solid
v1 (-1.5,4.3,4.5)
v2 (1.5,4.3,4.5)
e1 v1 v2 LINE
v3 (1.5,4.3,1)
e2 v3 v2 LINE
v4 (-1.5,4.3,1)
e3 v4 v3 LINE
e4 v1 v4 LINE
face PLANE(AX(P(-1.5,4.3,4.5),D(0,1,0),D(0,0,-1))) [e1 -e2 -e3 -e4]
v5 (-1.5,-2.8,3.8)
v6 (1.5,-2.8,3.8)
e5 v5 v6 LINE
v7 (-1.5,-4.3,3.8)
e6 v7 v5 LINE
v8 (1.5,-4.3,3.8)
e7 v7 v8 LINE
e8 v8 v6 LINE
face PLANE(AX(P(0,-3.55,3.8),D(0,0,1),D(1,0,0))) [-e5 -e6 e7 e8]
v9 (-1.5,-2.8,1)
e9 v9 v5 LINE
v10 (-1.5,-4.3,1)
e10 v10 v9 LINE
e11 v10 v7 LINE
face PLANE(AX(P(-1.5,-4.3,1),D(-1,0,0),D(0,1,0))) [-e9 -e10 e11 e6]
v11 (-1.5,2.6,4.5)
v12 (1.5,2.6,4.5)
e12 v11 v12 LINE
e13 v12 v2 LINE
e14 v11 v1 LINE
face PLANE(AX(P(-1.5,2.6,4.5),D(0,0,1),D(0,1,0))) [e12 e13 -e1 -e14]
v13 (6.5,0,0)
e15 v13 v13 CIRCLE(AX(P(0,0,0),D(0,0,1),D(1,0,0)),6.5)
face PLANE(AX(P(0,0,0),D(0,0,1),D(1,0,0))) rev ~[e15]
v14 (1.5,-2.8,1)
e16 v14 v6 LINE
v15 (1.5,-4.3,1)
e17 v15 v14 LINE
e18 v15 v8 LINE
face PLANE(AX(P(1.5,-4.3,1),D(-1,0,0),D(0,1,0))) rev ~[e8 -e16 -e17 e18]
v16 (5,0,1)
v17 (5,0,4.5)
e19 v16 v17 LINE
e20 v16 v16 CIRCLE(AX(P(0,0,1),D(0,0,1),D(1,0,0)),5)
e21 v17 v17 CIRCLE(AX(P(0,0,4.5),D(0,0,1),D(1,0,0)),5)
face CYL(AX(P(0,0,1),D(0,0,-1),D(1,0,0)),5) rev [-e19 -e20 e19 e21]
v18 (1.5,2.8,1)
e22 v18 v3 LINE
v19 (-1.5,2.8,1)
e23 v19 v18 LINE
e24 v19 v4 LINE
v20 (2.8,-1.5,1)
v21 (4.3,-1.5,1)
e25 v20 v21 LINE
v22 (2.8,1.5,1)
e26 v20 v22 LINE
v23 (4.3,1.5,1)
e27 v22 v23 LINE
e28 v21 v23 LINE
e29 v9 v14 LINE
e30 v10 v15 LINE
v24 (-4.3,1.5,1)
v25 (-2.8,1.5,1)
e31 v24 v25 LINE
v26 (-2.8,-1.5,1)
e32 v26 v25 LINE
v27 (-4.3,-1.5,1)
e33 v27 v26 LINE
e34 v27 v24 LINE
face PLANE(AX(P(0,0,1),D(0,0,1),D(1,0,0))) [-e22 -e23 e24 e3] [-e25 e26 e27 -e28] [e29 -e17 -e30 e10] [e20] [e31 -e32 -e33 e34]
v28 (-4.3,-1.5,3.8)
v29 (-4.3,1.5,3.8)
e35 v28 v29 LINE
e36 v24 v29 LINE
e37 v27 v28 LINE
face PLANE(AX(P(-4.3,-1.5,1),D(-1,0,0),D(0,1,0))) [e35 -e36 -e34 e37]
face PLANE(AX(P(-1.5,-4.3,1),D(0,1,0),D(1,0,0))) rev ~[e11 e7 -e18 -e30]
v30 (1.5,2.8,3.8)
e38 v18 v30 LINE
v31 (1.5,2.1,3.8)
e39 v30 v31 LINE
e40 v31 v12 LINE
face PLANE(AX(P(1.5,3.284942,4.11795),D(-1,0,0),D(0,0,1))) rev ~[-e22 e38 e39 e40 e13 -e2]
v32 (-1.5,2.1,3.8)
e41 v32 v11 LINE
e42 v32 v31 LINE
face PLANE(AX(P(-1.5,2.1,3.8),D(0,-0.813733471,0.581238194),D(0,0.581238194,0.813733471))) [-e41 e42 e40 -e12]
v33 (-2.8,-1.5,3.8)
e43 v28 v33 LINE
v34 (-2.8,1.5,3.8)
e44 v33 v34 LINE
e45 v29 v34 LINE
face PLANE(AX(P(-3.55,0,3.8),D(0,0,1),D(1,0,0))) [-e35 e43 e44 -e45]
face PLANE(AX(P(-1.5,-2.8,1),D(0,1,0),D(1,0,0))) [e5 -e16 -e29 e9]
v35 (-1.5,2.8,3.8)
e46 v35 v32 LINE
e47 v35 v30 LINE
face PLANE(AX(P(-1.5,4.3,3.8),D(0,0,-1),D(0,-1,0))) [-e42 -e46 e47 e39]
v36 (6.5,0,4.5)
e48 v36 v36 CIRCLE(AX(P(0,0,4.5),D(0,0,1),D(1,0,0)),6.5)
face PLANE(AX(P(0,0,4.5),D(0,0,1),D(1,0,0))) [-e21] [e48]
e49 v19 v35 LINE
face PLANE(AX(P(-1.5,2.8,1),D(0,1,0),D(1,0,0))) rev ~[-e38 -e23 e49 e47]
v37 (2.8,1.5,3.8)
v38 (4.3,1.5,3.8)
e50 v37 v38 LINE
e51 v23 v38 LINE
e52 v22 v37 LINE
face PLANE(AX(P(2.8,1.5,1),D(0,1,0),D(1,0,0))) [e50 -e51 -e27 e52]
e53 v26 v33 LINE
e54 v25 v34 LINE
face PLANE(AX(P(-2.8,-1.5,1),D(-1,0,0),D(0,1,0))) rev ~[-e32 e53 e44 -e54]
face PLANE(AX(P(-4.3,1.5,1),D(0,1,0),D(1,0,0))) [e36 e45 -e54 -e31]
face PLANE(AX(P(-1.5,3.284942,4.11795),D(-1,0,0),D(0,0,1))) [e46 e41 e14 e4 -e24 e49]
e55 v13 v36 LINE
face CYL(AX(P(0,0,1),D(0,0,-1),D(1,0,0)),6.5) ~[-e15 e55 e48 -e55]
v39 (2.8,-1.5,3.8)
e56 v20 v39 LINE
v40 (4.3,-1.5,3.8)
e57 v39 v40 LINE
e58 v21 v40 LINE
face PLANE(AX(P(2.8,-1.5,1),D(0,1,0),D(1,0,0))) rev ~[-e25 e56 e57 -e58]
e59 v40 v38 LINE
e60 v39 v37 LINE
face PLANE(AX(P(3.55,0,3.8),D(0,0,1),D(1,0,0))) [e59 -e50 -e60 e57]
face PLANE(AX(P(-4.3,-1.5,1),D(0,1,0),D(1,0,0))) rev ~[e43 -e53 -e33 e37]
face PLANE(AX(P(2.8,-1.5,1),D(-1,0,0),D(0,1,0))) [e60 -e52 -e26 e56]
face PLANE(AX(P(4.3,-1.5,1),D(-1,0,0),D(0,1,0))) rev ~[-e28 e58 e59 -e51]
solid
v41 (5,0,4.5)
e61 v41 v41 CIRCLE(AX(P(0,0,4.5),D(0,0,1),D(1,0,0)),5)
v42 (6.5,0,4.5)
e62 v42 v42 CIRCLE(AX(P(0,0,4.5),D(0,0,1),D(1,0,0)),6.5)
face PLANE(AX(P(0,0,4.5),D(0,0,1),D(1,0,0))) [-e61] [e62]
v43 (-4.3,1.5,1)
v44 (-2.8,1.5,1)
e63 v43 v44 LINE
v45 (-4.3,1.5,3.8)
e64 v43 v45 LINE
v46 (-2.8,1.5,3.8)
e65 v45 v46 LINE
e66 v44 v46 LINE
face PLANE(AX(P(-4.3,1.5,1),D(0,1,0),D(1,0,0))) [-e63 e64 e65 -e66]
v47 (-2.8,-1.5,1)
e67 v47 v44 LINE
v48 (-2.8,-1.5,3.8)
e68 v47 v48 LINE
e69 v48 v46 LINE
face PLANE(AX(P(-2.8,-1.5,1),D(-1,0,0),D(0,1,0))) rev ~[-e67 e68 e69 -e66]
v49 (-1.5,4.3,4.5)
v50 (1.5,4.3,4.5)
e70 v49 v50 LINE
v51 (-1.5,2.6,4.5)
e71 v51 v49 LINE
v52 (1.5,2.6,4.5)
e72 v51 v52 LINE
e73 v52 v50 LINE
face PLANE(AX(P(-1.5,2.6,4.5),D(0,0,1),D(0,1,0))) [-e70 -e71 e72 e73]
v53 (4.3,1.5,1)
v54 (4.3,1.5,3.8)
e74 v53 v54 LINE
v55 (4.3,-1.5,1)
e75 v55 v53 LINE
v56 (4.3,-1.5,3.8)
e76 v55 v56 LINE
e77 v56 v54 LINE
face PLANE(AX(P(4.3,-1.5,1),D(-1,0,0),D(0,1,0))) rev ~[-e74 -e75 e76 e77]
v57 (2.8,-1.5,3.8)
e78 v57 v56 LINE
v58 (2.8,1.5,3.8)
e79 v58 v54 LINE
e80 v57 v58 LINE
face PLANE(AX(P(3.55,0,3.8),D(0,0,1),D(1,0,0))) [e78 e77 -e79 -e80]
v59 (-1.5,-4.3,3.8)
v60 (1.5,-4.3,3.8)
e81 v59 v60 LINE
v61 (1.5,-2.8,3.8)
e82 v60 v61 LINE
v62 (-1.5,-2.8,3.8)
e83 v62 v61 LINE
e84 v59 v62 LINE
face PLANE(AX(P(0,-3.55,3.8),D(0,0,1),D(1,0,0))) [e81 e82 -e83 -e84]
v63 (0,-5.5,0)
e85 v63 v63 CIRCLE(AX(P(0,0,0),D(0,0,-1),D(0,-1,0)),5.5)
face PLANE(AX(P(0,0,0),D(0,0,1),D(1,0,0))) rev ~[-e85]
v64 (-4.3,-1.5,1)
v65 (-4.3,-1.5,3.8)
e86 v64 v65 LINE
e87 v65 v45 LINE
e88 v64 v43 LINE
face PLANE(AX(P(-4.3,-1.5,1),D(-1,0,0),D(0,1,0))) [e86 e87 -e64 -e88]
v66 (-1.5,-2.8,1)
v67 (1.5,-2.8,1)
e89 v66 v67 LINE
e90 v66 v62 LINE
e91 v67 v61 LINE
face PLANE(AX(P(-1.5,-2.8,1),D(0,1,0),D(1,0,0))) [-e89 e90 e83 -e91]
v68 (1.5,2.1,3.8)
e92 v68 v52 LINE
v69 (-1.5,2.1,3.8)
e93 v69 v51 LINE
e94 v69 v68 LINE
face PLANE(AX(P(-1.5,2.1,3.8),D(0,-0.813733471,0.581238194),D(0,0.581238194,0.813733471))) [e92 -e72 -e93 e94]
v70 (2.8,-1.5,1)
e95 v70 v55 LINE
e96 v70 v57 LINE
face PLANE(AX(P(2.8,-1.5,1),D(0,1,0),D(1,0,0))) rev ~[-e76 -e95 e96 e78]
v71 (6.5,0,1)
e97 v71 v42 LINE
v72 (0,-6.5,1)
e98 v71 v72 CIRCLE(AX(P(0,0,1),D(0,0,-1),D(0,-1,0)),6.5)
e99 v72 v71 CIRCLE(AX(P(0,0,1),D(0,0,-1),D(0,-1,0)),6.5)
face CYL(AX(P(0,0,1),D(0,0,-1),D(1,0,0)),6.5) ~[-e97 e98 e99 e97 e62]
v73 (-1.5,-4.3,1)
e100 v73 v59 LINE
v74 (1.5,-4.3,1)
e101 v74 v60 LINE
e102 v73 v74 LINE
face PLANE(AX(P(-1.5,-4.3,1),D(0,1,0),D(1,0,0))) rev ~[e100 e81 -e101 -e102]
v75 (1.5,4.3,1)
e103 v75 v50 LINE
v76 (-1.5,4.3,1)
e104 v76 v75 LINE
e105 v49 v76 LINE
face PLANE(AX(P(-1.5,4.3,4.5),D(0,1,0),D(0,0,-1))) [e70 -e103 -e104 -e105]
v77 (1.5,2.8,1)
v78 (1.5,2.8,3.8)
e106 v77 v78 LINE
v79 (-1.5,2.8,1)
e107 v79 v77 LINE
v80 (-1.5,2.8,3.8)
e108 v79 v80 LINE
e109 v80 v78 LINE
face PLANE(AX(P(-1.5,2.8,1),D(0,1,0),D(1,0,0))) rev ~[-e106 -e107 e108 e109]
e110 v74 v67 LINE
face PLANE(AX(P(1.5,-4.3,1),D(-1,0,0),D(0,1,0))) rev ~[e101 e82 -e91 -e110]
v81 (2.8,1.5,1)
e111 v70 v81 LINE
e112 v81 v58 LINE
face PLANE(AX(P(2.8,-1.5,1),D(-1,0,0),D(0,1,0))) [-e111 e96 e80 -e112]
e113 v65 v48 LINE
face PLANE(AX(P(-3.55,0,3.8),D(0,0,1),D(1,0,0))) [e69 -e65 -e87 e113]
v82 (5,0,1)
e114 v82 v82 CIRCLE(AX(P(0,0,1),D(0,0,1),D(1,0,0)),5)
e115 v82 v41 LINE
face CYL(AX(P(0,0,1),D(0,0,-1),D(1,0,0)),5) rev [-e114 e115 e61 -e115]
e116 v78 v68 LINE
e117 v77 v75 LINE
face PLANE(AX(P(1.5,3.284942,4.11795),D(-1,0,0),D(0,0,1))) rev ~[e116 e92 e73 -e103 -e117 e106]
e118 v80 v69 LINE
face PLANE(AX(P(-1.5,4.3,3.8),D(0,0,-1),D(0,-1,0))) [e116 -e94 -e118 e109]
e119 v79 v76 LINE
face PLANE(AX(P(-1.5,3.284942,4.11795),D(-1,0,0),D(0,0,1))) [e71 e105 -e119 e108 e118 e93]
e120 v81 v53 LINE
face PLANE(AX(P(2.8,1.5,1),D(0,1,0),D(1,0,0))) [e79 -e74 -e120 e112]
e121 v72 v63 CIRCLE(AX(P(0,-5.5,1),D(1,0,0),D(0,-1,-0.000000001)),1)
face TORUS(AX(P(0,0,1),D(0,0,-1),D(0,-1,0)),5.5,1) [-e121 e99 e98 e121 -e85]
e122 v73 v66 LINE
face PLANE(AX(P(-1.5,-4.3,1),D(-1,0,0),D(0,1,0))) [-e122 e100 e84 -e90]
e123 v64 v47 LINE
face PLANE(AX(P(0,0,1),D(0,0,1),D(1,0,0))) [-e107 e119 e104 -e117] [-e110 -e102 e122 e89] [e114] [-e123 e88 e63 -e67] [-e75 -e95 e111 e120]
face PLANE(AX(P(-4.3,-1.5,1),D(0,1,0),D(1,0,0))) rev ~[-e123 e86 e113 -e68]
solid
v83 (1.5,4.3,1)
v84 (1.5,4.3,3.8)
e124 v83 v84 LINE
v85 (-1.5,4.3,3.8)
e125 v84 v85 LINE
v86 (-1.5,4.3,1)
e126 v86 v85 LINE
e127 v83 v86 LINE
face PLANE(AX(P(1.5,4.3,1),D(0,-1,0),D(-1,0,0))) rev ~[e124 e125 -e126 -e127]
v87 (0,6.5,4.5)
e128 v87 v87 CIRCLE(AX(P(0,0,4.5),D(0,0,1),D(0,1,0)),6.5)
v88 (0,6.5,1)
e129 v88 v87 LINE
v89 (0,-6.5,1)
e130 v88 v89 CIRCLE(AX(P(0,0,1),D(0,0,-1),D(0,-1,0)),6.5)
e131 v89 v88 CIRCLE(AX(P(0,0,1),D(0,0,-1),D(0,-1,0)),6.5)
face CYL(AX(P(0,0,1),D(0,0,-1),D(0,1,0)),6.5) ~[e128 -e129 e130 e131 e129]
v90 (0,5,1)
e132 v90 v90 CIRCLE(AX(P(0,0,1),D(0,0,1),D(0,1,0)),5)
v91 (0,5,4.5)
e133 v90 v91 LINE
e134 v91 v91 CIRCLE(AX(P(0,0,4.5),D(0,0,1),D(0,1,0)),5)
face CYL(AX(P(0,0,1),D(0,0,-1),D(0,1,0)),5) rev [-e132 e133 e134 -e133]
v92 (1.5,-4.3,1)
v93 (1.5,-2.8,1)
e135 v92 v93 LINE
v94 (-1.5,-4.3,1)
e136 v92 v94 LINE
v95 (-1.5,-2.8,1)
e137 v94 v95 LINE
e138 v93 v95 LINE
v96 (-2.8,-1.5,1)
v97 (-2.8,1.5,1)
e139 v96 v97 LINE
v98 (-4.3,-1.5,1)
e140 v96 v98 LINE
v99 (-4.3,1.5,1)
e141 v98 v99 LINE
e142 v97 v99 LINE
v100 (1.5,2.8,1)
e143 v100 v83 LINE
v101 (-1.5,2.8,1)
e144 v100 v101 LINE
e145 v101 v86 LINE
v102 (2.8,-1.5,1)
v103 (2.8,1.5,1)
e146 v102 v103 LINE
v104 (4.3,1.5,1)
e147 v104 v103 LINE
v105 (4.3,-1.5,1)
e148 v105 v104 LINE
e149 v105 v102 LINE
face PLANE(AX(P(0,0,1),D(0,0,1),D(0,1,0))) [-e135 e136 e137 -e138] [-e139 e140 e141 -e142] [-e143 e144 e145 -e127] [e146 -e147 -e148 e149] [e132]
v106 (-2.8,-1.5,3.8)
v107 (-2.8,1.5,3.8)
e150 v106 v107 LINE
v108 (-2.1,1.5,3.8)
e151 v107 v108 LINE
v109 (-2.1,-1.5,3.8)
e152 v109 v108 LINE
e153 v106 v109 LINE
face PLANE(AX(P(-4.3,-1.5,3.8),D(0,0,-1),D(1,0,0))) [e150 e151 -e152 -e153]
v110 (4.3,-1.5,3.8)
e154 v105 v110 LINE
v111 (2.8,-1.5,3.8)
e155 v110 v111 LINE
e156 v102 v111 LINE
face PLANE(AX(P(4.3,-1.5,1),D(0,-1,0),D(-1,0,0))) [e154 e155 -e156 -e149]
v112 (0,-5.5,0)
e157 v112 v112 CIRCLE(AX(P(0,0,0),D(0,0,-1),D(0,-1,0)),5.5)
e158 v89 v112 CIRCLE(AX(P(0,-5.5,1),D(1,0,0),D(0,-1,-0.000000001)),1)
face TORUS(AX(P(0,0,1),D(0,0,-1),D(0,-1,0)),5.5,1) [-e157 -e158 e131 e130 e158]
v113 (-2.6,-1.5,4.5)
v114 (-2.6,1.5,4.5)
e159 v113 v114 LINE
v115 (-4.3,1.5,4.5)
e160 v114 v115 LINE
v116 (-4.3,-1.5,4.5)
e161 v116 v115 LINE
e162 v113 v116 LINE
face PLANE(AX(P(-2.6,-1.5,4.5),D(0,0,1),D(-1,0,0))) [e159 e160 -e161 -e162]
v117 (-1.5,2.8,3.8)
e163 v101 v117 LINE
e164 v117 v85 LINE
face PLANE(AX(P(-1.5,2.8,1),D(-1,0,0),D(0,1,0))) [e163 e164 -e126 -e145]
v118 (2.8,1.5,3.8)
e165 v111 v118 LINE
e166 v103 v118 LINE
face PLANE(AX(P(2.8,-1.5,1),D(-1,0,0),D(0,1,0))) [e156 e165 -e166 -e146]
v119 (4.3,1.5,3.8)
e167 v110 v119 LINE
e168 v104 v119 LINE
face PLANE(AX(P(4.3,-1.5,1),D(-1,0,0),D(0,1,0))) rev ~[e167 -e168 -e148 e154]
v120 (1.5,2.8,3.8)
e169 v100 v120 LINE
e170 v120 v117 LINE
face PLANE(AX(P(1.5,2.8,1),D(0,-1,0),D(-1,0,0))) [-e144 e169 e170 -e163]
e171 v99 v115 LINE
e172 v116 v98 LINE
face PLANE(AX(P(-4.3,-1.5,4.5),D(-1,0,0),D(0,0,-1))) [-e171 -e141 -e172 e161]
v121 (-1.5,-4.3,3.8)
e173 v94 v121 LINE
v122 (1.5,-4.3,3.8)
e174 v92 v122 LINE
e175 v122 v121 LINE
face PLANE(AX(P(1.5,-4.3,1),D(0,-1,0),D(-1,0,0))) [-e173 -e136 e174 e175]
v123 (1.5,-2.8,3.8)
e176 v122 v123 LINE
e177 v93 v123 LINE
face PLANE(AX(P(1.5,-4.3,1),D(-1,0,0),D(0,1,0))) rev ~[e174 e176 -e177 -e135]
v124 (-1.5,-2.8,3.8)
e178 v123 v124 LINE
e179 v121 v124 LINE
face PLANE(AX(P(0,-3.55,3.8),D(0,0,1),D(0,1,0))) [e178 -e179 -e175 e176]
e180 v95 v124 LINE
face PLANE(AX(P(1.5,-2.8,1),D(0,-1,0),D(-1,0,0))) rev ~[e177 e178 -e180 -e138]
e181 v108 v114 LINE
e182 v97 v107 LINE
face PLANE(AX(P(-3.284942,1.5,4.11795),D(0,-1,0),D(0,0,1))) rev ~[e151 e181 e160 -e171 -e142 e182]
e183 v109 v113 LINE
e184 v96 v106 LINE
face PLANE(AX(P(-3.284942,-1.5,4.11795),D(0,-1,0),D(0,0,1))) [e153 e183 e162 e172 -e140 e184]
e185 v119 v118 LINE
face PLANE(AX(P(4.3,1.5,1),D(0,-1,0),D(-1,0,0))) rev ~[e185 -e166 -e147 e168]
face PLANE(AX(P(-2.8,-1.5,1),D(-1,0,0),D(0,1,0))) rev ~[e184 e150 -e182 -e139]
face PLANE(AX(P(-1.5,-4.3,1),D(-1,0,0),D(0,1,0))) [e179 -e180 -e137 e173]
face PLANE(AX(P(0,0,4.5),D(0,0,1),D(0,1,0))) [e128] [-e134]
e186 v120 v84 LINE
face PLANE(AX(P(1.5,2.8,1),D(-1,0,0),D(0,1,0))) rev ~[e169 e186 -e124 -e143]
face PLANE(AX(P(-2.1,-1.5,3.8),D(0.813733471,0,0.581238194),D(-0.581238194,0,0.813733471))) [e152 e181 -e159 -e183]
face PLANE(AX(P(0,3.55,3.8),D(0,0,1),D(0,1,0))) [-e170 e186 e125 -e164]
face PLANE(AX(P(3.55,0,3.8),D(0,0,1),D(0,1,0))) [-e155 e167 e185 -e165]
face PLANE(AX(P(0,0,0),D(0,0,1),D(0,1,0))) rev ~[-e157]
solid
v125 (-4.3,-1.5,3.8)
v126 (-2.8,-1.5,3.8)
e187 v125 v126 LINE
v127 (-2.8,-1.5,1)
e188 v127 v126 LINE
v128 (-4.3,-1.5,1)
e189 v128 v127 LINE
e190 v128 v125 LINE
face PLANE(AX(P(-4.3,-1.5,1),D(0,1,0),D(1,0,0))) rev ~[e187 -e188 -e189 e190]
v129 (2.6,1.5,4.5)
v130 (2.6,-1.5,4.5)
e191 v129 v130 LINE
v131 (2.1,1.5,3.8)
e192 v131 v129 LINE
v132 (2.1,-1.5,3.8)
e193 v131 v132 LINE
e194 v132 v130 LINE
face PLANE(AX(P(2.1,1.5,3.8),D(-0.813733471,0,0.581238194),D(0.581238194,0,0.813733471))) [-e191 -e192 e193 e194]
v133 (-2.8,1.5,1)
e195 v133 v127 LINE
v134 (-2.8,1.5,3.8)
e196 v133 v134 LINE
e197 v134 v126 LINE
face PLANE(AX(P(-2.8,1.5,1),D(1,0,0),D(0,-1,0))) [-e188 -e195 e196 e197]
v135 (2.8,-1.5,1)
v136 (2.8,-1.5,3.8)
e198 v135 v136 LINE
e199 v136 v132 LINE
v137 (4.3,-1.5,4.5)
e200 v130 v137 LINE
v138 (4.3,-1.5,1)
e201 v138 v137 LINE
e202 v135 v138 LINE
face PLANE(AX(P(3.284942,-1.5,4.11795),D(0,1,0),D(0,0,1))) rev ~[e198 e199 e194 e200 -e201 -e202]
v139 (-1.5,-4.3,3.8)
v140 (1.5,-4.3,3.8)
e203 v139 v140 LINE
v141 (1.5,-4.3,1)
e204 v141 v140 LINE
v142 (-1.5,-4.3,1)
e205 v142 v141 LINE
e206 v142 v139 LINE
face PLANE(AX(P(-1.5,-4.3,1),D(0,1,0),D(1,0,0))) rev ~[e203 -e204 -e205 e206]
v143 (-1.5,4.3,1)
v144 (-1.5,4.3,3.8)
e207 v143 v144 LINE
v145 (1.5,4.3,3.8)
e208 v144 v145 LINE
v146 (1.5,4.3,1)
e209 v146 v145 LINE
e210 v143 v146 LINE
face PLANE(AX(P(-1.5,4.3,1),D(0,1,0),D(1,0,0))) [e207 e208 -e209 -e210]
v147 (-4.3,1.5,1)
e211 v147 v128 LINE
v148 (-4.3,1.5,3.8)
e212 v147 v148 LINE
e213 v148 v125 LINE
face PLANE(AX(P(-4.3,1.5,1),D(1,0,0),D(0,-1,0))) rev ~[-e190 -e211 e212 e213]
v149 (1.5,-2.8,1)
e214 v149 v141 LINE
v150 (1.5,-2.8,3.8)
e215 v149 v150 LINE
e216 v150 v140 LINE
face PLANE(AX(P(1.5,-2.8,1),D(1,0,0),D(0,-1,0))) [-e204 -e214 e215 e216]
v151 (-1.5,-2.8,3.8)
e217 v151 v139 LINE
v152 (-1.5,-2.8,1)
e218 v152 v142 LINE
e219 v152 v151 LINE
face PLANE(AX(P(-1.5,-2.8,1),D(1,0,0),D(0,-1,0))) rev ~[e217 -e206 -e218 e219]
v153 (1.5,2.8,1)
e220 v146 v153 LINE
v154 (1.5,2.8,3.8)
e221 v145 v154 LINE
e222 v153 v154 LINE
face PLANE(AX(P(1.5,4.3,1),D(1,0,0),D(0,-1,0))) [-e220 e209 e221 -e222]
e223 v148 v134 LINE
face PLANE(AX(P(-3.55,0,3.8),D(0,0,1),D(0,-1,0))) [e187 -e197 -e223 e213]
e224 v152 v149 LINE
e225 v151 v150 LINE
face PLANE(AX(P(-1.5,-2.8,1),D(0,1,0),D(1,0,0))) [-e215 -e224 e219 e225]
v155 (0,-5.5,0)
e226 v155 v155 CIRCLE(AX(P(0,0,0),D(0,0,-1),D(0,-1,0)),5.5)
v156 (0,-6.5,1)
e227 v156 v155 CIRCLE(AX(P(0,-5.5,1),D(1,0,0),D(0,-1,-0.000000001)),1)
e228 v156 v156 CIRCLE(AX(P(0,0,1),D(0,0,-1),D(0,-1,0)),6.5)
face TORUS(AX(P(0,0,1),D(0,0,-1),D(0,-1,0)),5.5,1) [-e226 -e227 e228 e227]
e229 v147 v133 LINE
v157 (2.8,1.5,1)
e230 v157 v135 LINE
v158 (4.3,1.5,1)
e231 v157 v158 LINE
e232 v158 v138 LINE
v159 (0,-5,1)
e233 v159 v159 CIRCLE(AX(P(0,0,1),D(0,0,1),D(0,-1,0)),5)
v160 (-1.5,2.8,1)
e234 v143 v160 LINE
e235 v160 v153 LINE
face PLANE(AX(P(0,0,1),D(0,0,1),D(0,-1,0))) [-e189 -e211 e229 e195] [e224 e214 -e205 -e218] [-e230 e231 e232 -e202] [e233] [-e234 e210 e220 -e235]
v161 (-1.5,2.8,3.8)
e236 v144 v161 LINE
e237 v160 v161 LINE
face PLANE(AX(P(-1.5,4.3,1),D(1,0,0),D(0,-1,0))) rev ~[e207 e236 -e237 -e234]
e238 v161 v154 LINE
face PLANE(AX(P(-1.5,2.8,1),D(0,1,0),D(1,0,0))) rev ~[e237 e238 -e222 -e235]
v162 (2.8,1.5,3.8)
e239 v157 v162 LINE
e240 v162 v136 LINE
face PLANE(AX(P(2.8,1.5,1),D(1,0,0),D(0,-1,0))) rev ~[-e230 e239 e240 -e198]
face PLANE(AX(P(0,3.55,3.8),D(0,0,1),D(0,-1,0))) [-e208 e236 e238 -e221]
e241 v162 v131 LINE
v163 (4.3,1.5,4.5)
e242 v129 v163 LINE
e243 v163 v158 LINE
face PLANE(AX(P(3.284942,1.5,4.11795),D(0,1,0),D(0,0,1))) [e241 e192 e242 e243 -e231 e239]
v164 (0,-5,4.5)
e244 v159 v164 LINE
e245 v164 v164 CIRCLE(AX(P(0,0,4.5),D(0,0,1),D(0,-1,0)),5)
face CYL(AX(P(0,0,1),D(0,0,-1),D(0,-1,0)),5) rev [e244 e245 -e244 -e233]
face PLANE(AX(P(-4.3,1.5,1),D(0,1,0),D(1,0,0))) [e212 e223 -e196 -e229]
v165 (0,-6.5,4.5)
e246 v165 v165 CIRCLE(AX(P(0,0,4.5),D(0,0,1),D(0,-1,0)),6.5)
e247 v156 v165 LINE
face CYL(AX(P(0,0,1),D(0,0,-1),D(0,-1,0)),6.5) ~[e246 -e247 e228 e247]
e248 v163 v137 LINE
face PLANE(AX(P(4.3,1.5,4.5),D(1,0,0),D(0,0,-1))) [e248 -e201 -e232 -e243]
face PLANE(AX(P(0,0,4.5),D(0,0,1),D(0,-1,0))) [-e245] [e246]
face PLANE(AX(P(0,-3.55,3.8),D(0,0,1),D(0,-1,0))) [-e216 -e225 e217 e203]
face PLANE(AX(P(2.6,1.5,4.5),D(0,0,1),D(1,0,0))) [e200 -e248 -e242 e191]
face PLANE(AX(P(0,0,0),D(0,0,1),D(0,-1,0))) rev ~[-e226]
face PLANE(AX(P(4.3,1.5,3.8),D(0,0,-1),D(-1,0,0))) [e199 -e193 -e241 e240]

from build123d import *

# Parameters (mm, degrees)
ESQUISSE1_R                   = 6.5
BOSS_EXTRU_1_DEPTH            = 1
ESQUISSE2_R                   = 6.5
ESQUISSE2_R_2                 = 5
BOSS_EXTRU_2_DEPTH            = 3.5
ESQUISSE3_W                   = 1.5
ESQUISSE3_H                   = 3
ESQUISSE3_W_2                 = 3
ESQUISSE3_H_2                 = 1.5
BOSS_EXTRU_3_DEPTH            = 2.8
BOSS_EXTRU_4_DEPTH            = 3
R_P_TITION_CIRCULAIRE10_COUNT = 4


with BuildPart() as part:
    # Esquisse1 → Boss.-Extru.1 (new body)
    with BuildSketch(Plane.XY):
        Circle(ESQUISSE1_R)
    extrude(amount=BOSS_EXTRU_1_DEPTH)

    # Esquisse2 → Boss.-Extru.2 (add)
    with BuildSketch(Plane.XY.offset(1)):
        Circle(ESQUISSE2_R)
        Circle(ESQUISSE2_R_2, mode=Mode.SUBTRACT)
    extrude(amount=BOSS_EXTRU_2_DEPTH)

    # Esquisse3 → Boss.-Extru.3 (add)
    with BuildSketch(Plane.XY.offset(1)):
        with Locations((3.55, 0)):
            Rectangle(ESQUISSE3_W, ESQUISSE3_H)
        with Locations((0, 3.55)):
            Rectangle(ESQUISSE3_W_2, ESQUISSE3_H_2)
        with Locations((0, -3.55)):
            Rectangle(ESQUISSE3_W_2, ESQUISSE3_H_2)
        with Locations((-3.55, 0)):
            Rectangle(ESQUISSE3_W, ESQUISSE3_H)
    extrude(amount=BOSS_EXTRU_3_DEPTH)

    # Esquisse4 → Boss.-Extru.4 (add)
    with BuildSketch(Plane.ZY.offset(1.5)):
        Polygon((3.8, 4.3), (3.8, 2.1), (4.5, 2.6), (4.5, 4.3), align=None)
    extrude(amount=-BOSS_EXTRU_4_DEPTH)


with BuildPart() as r_p_tition_circulaire10_1:
    # Répétition circulaire10: pattern copy
    add(part.part.rotate(Axis((0, 0, 0), (0, 0, 1)), 1 * 360 / R_P_TITION_CIRCULAIRE10_COUNT))


with BuildPart() as r_p_tition_circulaire10_2:
    # Répétition circulaire10: pattern copy
    add(part.part.rotate(Axis((0, 0, 0), (0, 0, 1)), 2 * 360 / R_P_TITION_CIRCULAIRE10_COUNT))


with BuildPart() as r_p_tition_circulaire10_3:
    # Répétition circulaire10: pattern copy
    add(part.part.rotate(Axis((0, 0, 0), (0, 0, 1)), 3 * 360 / R_P_TITION_CIRCULAIRE10_COUNT))


with BuildPart() as enl_vement_de_mati_re_r_volution1_tool:
    # Esquisse5 → Enlèvement de matière-Révolution1 (revolve)
    with BuildSketch(Plane(origin=(0, 0, 0), x_dir=(0, 0, -1), z_dir=(1, 0, 0))):
        with BuildLine():
            Line((0, -6.5), (-1, -6.5))
            ThreePointArc((-1, -6.5), (-0.292893219, -6.207106781), (0, -5.5))
            Line((0, -5.5), (0, -6.5))
        make_face()
    revolve(axis=Axis((0, 0, 1), (0, 0, -1)))


with BuildPart() as part_1:
    add(part.part)

    # Enlèvement de matière-Révolution1: cut by enl_vement_de_mati_re_r_volution1_tool
    add(enl_vement_de_mati_re_r_volution1_tool.part, mode=Mode.SUBTRACT)


with BuildPart() as r_p_tition_circulaire10_1_1:
    add(r_p_tition_circulaire10_1.part)

    # Enlèvement de matière-Révolution1: cut by enl_vement_de_mati_re_r_volution1_tool
    add(enl_vement_de_mati_re_r_volution1_tool.part, mode=Mode.SUBTRACT)


with BuildPart() as r_p_tition_circulaire10_3_1:
    add(r_p_tition_circulaire10_3.part)

    # Enlèvement de matière-Révolution1: cut by enl_vement_de_mati_re_r_volution1_tool
    add(enl_vement_de_mati_re_r_volution1_tool.part, mode=Mode.SUBTRACT)


solid = Compound([r_p_tition_circulaire10_2.part, part_1.part, r_p_tition_circulaire10_1_1.part, r_p_tition_circulaire10_3_1.part])
